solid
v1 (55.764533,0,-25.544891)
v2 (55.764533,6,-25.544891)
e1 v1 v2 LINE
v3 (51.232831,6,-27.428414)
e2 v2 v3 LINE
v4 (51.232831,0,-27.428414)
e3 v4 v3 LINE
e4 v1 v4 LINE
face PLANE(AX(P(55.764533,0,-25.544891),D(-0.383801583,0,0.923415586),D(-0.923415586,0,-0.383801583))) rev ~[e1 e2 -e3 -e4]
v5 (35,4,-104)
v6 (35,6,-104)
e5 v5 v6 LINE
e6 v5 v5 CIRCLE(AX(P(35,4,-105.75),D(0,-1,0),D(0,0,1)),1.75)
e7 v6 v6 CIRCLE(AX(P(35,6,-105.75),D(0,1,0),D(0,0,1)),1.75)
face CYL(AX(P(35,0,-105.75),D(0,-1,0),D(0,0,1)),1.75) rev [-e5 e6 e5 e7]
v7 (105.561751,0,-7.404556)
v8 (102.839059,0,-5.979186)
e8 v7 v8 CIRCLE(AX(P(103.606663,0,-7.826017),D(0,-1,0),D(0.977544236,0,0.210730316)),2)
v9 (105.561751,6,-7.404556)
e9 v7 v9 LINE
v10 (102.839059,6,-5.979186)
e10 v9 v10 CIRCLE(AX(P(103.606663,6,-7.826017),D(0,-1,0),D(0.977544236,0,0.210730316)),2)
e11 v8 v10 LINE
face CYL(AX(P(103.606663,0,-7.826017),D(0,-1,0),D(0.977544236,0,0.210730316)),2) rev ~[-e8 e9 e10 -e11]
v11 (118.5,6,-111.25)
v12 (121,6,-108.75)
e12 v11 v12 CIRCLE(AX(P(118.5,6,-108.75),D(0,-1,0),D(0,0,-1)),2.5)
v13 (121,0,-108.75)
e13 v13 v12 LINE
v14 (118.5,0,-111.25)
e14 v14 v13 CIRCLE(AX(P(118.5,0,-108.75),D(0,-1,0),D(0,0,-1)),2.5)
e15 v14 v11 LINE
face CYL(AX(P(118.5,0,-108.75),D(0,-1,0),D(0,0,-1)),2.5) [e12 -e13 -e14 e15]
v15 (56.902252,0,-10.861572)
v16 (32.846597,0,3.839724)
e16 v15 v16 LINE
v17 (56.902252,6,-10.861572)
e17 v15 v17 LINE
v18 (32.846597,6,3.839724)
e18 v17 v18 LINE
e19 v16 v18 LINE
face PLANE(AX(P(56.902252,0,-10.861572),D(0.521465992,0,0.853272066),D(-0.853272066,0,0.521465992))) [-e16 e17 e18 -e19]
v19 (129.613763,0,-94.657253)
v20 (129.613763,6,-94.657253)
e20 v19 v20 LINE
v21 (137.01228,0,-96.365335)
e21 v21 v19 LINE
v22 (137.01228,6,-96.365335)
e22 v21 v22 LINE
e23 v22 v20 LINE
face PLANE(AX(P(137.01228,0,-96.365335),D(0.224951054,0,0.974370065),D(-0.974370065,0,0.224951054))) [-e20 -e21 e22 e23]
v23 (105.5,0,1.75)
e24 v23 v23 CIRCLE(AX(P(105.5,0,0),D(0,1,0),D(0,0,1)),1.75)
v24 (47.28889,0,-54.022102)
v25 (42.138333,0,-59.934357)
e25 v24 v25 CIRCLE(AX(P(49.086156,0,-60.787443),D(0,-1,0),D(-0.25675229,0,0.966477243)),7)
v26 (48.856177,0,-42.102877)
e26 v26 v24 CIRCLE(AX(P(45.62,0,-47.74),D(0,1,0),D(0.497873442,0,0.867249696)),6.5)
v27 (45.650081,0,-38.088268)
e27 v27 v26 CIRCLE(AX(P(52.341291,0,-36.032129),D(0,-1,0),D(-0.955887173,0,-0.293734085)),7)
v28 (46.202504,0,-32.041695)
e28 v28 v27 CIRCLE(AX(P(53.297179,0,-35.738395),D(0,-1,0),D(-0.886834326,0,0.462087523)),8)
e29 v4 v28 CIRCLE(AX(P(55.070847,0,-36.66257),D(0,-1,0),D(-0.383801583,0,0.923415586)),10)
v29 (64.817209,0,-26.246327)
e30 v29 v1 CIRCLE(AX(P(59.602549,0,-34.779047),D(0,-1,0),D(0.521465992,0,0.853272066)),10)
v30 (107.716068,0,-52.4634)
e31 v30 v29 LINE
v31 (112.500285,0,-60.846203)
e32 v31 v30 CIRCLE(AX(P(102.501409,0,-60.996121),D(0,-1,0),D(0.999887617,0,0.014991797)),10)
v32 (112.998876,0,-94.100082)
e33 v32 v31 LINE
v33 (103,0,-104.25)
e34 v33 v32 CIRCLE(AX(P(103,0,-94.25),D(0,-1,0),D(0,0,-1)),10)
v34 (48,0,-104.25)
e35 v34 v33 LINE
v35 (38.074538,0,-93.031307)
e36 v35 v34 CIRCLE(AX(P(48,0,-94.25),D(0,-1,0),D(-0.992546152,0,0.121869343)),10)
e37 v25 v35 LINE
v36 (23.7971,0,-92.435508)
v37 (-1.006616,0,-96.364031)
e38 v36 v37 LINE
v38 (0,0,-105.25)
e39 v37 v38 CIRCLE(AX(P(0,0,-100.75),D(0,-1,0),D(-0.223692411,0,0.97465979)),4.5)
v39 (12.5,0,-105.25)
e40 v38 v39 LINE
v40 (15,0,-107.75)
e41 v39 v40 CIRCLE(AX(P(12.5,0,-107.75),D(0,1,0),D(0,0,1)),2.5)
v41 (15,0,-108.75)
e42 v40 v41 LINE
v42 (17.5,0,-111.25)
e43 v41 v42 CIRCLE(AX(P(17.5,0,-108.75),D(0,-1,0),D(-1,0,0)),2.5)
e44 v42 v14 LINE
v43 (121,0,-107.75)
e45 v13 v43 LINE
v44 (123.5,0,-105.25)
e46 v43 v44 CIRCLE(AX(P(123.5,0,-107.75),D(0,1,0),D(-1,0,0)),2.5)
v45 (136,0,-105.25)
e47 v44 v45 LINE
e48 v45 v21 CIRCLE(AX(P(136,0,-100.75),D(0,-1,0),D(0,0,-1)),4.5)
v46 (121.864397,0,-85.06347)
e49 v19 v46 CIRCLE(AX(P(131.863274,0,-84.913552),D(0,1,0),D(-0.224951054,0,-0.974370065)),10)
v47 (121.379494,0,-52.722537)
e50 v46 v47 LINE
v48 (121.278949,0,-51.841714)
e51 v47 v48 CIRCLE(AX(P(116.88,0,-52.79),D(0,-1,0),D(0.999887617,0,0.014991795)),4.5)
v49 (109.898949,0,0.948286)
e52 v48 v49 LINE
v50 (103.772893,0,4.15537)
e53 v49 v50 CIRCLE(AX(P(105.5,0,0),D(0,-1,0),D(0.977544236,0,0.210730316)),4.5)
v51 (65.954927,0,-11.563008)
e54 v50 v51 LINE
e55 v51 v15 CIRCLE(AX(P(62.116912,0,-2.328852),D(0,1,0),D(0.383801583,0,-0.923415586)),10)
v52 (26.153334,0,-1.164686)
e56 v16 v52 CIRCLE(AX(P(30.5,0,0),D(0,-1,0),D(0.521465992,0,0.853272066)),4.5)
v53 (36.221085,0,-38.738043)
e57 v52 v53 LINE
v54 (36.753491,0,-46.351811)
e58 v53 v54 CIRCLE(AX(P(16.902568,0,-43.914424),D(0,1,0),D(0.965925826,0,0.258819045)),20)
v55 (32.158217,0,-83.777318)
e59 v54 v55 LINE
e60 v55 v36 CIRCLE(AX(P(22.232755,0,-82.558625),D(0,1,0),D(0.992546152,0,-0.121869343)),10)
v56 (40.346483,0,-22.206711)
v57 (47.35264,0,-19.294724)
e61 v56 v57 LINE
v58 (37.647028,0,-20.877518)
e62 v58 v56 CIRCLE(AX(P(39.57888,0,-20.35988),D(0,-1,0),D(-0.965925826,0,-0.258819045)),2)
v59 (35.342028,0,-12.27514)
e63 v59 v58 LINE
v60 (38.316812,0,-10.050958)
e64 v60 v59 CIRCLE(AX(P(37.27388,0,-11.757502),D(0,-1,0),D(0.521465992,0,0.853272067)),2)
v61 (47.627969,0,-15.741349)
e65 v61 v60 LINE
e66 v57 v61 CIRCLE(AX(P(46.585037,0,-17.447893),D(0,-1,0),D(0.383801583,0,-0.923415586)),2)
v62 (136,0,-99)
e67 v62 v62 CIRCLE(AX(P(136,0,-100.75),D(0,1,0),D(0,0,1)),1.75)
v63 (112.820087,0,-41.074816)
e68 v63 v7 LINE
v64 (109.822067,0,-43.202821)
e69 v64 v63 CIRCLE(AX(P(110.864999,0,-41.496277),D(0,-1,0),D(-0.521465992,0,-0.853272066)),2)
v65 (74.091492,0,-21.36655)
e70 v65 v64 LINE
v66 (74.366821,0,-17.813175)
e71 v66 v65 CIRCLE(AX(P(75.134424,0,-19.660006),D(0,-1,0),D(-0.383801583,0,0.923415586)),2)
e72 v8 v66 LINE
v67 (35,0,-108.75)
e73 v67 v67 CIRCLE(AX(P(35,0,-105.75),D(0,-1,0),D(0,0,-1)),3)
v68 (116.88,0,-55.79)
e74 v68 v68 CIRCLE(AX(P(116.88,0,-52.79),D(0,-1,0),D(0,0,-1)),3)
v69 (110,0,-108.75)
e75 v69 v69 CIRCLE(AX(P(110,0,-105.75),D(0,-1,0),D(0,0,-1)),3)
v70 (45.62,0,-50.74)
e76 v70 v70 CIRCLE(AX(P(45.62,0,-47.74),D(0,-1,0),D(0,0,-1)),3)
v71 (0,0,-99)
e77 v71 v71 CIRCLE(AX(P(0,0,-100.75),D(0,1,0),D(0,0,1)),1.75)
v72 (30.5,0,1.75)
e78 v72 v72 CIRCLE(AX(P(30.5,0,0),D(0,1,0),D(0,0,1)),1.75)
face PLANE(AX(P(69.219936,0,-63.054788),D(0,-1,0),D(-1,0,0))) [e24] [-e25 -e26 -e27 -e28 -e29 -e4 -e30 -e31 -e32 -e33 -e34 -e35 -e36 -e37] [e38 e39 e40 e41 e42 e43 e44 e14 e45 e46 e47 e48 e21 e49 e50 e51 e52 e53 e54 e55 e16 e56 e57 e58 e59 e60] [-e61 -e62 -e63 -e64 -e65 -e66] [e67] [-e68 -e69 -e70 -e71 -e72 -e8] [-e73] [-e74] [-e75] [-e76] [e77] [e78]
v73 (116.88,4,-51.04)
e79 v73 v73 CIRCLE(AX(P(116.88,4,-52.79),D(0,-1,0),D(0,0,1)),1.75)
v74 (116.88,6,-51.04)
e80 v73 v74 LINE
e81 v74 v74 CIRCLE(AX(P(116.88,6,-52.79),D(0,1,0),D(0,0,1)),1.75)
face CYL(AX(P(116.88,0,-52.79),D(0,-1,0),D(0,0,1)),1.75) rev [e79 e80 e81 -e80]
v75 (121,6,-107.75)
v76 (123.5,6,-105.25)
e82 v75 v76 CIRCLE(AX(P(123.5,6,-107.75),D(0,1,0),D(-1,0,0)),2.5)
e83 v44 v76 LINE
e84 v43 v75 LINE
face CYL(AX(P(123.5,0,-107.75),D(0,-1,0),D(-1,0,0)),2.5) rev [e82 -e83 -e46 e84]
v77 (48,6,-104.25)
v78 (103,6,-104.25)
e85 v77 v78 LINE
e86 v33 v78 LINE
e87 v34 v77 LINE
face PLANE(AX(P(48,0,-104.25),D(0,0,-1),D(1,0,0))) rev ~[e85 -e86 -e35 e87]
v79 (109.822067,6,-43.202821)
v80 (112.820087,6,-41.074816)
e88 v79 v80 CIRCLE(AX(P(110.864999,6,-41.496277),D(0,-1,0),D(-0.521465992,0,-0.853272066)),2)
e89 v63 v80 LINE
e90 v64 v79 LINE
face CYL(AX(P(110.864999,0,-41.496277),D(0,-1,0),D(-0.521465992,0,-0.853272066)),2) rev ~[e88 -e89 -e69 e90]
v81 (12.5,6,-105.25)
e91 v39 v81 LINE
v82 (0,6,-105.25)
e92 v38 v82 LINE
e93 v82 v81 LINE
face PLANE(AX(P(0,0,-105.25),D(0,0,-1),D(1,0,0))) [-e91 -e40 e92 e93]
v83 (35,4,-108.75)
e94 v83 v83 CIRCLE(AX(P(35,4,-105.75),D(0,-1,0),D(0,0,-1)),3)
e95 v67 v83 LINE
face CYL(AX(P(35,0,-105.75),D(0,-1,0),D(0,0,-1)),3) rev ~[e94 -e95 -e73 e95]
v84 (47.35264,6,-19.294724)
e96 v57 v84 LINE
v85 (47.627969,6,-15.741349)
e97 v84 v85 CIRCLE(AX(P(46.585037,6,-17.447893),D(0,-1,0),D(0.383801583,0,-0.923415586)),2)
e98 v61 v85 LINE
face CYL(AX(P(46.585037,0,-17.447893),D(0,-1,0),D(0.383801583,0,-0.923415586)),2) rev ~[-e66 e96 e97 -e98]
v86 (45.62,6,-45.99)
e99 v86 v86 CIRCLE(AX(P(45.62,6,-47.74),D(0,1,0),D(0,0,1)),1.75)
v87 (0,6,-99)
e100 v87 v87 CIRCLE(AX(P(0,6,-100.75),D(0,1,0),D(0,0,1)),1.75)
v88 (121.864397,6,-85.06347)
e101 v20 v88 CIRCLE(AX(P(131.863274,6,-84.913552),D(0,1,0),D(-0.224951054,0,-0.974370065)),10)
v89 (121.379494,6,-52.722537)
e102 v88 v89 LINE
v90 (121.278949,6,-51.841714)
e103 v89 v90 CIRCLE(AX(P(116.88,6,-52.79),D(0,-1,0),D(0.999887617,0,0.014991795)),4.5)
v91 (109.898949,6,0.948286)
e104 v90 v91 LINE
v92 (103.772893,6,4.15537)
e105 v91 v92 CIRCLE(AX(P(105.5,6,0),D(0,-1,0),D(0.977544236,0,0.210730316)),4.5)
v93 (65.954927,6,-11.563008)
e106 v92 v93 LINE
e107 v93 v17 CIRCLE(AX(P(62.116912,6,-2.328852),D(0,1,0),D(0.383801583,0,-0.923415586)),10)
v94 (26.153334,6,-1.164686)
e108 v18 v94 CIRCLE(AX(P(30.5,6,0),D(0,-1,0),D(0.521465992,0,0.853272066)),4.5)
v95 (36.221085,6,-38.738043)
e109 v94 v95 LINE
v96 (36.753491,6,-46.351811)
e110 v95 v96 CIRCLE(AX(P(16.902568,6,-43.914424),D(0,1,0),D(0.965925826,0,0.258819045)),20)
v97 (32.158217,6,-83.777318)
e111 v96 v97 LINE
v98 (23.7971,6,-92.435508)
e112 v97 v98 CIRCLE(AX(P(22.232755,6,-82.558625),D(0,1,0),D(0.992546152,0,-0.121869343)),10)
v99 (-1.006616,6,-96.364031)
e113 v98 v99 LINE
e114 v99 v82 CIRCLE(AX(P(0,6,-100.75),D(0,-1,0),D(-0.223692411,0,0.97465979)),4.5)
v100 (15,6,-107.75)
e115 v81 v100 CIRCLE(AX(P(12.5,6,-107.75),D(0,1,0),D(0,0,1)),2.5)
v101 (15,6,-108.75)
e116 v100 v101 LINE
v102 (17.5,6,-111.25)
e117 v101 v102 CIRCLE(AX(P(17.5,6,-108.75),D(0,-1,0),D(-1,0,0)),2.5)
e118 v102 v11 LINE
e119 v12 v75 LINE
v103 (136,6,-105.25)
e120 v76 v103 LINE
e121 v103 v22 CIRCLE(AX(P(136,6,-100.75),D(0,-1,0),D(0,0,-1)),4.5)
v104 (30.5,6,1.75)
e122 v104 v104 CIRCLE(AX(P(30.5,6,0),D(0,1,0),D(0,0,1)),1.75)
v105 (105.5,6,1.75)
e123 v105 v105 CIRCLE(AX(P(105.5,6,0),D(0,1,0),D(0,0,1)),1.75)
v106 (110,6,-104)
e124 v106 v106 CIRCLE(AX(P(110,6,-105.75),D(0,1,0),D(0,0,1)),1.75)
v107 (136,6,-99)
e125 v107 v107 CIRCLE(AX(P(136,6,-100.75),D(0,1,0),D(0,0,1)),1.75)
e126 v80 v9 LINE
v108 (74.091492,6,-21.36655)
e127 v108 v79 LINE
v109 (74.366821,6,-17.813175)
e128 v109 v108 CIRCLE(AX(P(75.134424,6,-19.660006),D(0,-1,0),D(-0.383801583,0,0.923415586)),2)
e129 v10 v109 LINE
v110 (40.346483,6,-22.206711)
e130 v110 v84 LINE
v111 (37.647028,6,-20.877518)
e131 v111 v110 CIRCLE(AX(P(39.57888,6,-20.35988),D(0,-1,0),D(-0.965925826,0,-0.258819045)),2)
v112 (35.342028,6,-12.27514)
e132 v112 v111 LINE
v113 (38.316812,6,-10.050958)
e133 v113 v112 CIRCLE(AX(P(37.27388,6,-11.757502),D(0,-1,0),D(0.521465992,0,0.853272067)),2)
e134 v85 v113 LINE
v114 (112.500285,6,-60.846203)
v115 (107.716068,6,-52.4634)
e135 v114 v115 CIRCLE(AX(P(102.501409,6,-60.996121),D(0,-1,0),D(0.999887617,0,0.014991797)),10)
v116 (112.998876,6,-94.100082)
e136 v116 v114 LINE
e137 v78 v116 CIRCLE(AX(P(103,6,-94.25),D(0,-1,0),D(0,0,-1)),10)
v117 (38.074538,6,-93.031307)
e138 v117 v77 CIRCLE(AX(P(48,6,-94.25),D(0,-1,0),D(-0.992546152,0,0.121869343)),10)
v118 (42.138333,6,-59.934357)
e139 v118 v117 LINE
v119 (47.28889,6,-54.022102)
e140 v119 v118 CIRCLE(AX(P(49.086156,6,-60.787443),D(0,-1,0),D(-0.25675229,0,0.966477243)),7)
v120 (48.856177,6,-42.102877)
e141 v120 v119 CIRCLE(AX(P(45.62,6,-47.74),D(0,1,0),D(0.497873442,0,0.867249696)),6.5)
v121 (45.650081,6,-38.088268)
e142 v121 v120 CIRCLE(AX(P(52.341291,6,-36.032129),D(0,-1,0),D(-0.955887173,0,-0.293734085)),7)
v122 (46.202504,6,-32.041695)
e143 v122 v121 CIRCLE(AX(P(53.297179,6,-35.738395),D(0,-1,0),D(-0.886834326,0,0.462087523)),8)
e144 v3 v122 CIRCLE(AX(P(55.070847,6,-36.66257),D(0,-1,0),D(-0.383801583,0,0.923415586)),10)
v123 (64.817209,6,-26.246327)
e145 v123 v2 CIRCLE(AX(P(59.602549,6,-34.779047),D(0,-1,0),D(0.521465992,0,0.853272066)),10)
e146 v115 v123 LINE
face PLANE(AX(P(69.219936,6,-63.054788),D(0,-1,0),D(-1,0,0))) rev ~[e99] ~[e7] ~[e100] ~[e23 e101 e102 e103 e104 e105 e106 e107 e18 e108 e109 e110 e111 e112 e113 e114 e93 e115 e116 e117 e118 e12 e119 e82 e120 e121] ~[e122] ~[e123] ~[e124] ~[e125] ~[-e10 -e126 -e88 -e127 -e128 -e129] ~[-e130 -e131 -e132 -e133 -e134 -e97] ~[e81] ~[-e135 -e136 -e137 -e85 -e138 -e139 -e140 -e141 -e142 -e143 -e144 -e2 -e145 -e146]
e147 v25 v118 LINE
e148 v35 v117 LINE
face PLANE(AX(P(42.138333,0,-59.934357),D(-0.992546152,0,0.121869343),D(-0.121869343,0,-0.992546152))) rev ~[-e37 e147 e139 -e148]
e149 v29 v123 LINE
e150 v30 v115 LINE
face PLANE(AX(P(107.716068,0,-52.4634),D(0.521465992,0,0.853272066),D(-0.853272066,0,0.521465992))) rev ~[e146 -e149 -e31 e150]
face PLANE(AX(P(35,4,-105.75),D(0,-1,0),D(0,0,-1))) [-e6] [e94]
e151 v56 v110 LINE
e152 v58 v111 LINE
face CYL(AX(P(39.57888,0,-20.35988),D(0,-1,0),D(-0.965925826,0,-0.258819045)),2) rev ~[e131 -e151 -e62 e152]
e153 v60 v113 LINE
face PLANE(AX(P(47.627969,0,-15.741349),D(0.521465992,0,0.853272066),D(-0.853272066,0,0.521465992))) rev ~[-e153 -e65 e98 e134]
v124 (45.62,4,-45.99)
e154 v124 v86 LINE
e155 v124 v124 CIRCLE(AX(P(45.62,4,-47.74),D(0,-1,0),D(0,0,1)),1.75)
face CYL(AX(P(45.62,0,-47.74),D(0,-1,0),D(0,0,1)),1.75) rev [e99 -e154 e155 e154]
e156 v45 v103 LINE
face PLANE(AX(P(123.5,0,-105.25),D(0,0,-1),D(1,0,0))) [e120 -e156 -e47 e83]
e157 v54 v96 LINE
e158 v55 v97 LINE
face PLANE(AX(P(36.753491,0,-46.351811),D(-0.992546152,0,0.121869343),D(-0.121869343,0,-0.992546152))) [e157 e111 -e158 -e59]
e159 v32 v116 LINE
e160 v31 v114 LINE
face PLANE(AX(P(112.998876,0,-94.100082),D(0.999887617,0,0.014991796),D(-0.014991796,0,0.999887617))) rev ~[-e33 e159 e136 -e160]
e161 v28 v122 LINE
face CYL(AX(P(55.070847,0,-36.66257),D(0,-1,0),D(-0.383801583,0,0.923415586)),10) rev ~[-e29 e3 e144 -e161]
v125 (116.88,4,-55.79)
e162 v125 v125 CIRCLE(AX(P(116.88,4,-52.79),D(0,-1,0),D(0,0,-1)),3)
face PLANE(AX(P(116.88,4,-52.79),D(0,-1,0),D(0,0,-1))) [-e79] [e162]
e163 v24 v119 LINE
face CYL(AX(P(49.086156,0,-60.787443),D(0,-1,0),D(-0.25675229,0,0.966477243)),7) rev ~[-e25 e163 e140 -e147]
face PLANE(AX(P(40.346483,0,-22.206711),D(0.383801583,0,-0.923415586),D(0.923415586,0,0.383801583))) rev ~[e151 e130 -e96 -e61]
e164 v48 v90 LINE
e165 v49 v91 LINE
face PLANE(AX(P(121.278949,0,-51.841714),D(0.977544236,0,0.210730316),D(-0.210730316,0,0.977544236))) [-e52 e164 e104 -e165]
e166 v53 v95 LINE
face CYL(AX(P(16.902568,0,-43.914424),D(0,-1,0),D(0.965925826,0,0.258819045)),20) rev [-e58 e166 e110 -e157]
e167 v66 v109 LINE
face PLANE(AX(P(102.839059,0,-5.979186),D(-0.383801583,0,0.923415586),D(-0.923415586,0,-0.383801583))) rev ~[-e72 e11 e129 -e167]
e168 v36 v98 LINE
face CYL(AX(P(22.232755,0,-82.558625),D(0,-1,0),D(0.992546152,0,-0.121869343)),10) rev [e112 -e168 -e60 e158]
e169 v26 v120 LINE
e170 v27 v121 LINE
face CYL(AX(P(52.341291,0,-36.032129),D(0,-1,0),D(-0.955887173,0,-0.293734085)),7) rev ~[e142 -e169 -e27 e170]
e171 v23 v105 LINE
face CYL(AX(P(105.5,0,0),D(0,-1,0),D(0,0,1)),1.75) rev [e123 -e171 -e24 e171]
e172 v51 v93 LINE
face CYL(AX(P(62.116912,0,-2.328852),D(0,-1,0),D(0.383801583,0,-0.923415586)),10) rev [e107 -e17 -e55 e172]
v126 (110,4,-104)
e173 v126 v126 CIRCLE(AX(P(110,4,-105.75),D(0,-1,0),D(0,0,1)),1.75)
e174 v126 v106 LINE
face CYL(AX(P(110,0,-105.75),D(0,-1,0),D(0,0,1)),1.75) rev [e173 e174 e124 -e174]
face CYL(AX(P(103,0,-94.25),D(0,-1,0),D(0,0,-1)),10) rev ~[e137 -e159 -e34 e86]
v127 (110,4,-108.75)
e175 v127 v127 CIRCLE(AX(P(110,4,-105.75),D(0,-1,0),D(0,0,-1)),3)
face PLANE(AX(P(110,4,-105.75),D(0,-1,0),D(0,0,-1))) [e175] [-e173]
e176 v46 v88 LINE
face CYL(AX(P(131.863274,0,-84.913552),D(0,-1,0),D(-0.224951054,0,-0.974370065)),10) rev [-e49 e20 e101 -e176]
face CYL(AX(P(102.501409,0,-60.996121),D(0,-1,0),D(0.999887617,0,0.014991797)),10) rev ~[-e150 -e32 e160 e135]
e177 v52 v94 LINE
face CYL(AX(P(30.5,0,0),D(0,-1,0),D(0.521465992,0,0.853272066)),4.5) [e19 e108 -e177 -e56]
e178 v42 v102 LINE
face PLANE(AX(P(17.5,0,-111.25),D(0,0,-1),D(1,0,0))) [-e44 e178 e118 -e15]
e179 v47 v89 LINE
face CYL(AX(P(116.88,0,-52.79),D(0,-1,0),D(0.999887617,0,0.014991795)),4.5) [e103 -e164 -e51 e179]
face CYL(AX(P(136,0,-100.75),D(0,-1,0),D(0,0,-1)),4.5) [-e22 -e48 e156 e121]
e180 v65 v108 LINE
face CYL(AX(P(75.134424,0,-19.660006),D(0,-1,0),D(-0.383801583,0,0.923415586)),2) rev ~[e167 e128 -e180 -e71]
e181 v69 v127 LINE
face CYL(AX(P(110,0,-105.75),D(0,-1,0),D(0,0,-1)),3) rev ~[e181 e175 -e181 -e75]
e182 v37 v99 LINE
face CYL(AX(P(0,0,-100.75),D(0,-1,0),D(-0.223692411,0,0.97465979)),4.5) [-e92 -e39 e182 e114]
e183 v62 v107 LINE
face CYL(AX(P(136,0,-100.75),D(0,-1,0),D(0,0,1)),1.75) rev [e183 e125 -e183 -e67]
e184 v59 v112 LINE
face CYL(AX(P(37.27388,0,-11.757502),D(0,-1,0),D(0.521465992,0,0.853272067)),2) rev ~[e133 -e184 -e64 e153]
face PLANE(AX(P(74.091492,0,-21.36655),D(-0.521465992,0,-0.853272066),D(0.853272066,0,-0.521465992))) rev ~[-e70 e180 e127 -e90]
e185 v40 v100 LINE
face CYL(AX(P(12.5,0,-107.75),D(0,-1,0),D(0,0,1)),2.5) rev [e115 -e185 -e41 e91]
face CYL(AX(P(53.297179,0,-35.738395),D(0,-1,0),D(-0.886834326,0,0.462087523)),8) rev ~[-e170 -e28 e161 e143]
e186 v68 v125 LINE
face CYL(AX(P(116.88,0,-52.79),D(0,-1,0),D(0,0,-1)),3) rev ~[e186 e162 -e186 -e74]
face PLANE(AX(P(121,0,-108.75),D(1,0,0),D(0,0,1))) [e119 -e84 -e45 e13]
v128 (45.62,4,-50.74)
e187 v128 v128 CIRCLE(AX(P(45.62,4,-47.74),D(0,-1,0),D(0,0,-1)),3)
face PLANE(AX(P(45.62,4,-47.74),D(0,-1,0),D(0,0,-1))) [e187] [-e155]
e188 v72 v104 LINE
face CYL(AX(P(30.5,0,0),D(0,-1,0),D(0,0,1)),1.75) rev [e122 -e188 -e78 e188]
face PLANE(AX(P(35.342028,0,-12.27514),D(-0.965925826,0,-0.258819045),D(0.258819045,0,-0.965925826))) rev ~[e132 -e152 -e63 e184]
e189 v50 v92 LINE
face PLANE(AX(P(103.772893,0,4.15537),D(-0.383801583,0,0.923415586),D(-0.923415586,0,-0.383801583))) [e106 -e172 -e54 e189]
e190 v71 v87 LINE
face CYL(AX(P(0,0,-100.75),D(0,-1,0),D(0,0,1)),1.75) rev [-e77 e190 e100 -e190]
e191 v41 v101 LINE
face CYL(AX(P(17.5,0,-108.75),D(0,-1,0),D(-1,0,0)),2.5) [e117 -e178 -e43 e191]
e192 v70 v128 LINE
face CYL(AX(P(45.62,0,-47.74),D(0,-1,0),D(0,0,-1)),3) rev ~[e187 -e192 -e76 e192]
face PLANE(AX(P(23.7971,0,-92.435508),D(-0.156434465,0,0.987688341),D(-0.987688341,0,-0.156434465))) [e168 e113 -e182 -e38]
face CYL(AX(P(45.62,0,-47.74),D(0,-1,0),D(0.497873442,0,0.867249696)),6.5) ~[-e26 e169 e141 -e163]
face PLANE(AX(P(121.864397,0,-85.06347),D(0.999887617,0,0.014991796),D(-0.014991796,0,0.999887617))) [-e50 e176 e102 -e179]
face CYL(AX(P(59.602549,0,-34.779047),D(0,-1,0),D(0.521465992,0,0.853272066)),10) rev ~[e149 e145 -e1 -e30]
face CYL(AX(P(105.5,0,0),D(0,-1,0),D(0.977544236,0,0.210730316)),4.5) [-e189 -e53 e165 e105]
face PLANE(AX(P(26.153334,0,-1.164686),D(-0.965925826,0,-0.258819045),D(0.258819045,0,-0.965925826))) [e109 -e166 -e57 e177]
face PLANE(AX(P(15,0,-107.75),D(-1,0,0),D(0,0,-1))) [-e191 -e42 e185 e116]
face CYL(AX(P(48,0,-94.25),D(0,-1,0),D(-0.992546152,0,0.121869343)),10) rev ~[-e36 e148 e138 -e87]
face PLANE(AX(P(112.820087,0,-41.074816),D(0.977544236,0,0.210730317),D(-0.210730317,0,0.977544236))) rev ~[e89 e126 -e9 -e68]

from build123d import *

# Parameters (mm, degrees)
SKETCH_1_R          = 1.75
EXTRUDE_1_DEPTH     = 6
SKETCH_2_R          = 3
CUT_EXTRUDE_1_DEPTH = 4


with BuildPart() as part:
    # Эскиз1 → Бобышка-Вытянуть1 (new body)
    with BuildSketch(Plane(origin=(0, 0, 0), x_dir=(1, 0, 0), z_dir=(0, 1, 0))):
        with BuildLine():
            Line((0, 105.25), (12.5, 105.25))
            ThreePointArc((12.5, 105.25), (14.267766953, 105.982233047), (15, 107.75))
            Line((15, 107.75), (15, 108.75))
            ThreePointArc((15, 108.75), (15.732233047, 110.517766953), (17.5, 111.25))
            Line((17.5, 111.25), (118.5, 111.25))
            ThreePointArc((118.5, 111.25), (120.267766953, 110.517766953), (121, 108.75))
            Line((121, 108.75), (121, 107.75))
            ThreePointArc((121, 107.75), (121.732233047, 105.982233047), (123.5, 105.25))
            Line((123.5, 105.25), (136, 105.25))
            ThreePointArc((136, 105.25), (140.471073351, 101.259414462), (137.012279745, 96.365334708))
            Line((137.012279745, 96.365334708), (129.613763077, 94.657252548))
            ThreePointArc((129.613763077, 94.657252548), (124.08407631, 91.197188523), (121.864397453, 85.063469865))
            Line((121.864397453, 85.063469865), (121.379494275, 52.722536916))
            ThreePointArc((121.379494275, 52.722536916), (121.35096588, 52.279643163), (121.278949063, 51.841713576))
            Line((121.278949063, 51.841713576), (109.898949063, -0.948286424))
            ThreePointArc((109.898949063, -0.948286424), (107.58711076, -3.986724053), (103.772892877, -4.155370138))
            Line((103.772892877, -4.155370138), (65.954927395, 11.563007621))
            ThreePointArc((65.954927395, 11.563007621), (61.344389675, 12.298967601), (56.902251647, 10.861572422))
            Line((56.902251647, 10.861572422), (32.846596964, -3.839724299))
            ThreePointArc((32.846596964, -3.839724299), (27.805357329, -3.604011776), (26.153333782, 1.164685703))
            Line((26.153333782, 1.164685703), (36.221084572, 38.73804317))
            ThreePointArc((36.221084572, 38.73804317), (36.853849051, 42.519294597), (36.753491079, 46.35181094))
            Line((36.753491079, 46.35181094), (32.158216583, 83.777318367))
            ThreePointArc((32.158216583, 83.777318367), (29.42615307, 89.505208638), (23.797099717, 92.435508339))
            Line((23.797099717, 92.435508339), (-1.006615848, 96.364030947))
            ThreePointArc((-1.006615848, 96.364030947), (-4.471401388, 101.256527029), (0, 105.25))
        make_face()
        with Locations(Location((35, 105.75, 0), (0, 0, 270))):
            Circle(SKETCH_1_R, mode=Mode.SUBTRACT)
        with Locations(Location((110, 105.75, 0), (0, 0, 270))):
            Circle(SKETCH_1_R, mode=Mode.SUBTRACT)
        with Locations(Location((116.88, 52.79, 0), (0, 0, 270))):
            Circle(SKETCH_1_R, mode=Mode.SUBTRACT)
        with Locations(Location((45.62, 47.74, 0), (0, 0, 270))):
            Circle(SKETCH_1_R, mode=Mode.SUBTRACT)
        with Locations(Location((0, 100.75, 0), (0, 0, 270))):
            Circle(SKETCH_1_R, mode=Mode.SUBTRACT)
        with Locations(Location((136, 100.75, 0), (0, 0, 270))):
            Circle(SKETCH_1_R, mode=Mode.SUBTRACT)
        with Locations(Location((30.5, 0, 0), (0, 0, 270))):
            Circle(SKETCH_1_R, mode=Mode.SUBTRACT)
        with Locations(Location((105.5, 0, 0), (0, 0, 270))):
            Circle(SKETCH_1_R, mode=Mode.SUBTRACT)
        with BuildLine():
            Line((48, 104.25), (103, 104.25))
            ThreePointArc((103, 104.25), (110.123874635, 101.267863648), (112.998876167, 94.100082036))
            Line((112.998876167, 94.100082036), (112.500284745, 60.846202729))
            ThreePointArc((112.500284745, 60.846202729), (111.186497255, 56.039384402), (107.716068497, 52.46340003))
            Line((107.716068497, 52.46340003), (64.817208881, 26.246326643))
            ThreePointArc((64.817208881, 26.246326643), (60.375070853, 24.808931464), (55.764533132, 25.544891444))
            Line((55.764533132, 25.544891444), (51.232831469, 27.428414202))
            ThreePointArc((51.232831469, 27.428414202), (48.311891769, 29.292595834), (46.202504042, 32.041694834))
            ThreePointArc((46.202504042, 32.041694834), (45.33035863, 35.010535959), (45.650081265, 38.088267701))
            ThreePointArc((45.650081265, 38.088267701), (46.871495682, 40.400347733), (48.856177376, 42.102876976))
            ThreePointArc((48.856177376, 42.102876976), (52.06452504, 48.587406051), (47.288889887, 54.02210208))
            ThreePointArc((47.288889887, 54.02210208), (43.80810358, 56.18938194), (42.138332857, 59.934357378))
            Line((42.138332857, 59.934357378), (38.074538484, 93.031306566))
            ThreePointArc((38.074538484, 93.031306566), (40.510442792, 100.876200482), (48, 104.25))
        make_face(mode=Mode.SUBTRACT)
        with BuildLine():
            Line((112.820087132, 41.07481604), (105.561751128, 7.404556143))
            ThreePointArc((105.561751128, 7.404556143), (104.534267438, 6.054139419), (102.83905949, 5.979185604))
            Line((102.83905949, 5.979185604), (74.366820735, 17.81317505))
            ThreePointArc((74.366820735, 17.81317505), (73.140400732, 19.505501844), (74.091491917, 21.366550355))
            Line((74.091491917, 21.366550355), (109.822066675, 43.202820805))
            ThreePointArc((109.822066675, 43.202820805), (112.022629186, 43.127194072), (112.820087132, 41.07481604))
        make_face(mode=Mode.SUBTRACT)
        with BuildLine():
            Line((47.62796861, 15.74134871), (38.316811752, 10.050957756))
            ThreePointArc((38.316811752, 10.050957756), (36.076260803, 10.155718878), (35.342028115, 12.275139979))
            Line((35.342028115, 12.275139979), (37.647028294, 20.87751776))
            ThreePointArc((37.647028294, 20.87751776), (38.695388466, 22.154160251), (40.346483113, 22.206710843))
            Line((40.346483113, 22.206710843), (47.352639792, 19.294724015))
            ThreePointArc((47.352639792, 19.294724015), (48.579059795, 17.602397221), (47.62796861, 15.74134871))
        make_face(mode=Mode.SUBTRACT)
    extrude(amount=EXTRUDE_1_DEPTH)

    # Эскиз2 → Вырез-Вытянуть1 (cut)
    with BuildSketch(Plane(origin=(0, 0, 0), x_dir=(-1, 0, 0), z_dir=(0, -1, 0))):
        with Locations(Location((-110, 105.75, 0), (0, 0, 90))):
            Circle(SKETCH_2_R)
        with Locations(Location((-35, 105.75, 0), (0, 0, 90))):
            Circle(SKETCH_2_R)
        with Locations(Location((-116.88, 52.79, 0), (0, 0, 90))):
            Circle(SKETCH_2_R)
        with Locations(Location((-45.62, 47.74, 0), (0, 0, 90))):
            Circle(SKETCH_2_R)
    extrude(amount=-CUT_EXTRUDE_1_DEPTH, mode=Mode.SUBTRACT)


solid = part.part
